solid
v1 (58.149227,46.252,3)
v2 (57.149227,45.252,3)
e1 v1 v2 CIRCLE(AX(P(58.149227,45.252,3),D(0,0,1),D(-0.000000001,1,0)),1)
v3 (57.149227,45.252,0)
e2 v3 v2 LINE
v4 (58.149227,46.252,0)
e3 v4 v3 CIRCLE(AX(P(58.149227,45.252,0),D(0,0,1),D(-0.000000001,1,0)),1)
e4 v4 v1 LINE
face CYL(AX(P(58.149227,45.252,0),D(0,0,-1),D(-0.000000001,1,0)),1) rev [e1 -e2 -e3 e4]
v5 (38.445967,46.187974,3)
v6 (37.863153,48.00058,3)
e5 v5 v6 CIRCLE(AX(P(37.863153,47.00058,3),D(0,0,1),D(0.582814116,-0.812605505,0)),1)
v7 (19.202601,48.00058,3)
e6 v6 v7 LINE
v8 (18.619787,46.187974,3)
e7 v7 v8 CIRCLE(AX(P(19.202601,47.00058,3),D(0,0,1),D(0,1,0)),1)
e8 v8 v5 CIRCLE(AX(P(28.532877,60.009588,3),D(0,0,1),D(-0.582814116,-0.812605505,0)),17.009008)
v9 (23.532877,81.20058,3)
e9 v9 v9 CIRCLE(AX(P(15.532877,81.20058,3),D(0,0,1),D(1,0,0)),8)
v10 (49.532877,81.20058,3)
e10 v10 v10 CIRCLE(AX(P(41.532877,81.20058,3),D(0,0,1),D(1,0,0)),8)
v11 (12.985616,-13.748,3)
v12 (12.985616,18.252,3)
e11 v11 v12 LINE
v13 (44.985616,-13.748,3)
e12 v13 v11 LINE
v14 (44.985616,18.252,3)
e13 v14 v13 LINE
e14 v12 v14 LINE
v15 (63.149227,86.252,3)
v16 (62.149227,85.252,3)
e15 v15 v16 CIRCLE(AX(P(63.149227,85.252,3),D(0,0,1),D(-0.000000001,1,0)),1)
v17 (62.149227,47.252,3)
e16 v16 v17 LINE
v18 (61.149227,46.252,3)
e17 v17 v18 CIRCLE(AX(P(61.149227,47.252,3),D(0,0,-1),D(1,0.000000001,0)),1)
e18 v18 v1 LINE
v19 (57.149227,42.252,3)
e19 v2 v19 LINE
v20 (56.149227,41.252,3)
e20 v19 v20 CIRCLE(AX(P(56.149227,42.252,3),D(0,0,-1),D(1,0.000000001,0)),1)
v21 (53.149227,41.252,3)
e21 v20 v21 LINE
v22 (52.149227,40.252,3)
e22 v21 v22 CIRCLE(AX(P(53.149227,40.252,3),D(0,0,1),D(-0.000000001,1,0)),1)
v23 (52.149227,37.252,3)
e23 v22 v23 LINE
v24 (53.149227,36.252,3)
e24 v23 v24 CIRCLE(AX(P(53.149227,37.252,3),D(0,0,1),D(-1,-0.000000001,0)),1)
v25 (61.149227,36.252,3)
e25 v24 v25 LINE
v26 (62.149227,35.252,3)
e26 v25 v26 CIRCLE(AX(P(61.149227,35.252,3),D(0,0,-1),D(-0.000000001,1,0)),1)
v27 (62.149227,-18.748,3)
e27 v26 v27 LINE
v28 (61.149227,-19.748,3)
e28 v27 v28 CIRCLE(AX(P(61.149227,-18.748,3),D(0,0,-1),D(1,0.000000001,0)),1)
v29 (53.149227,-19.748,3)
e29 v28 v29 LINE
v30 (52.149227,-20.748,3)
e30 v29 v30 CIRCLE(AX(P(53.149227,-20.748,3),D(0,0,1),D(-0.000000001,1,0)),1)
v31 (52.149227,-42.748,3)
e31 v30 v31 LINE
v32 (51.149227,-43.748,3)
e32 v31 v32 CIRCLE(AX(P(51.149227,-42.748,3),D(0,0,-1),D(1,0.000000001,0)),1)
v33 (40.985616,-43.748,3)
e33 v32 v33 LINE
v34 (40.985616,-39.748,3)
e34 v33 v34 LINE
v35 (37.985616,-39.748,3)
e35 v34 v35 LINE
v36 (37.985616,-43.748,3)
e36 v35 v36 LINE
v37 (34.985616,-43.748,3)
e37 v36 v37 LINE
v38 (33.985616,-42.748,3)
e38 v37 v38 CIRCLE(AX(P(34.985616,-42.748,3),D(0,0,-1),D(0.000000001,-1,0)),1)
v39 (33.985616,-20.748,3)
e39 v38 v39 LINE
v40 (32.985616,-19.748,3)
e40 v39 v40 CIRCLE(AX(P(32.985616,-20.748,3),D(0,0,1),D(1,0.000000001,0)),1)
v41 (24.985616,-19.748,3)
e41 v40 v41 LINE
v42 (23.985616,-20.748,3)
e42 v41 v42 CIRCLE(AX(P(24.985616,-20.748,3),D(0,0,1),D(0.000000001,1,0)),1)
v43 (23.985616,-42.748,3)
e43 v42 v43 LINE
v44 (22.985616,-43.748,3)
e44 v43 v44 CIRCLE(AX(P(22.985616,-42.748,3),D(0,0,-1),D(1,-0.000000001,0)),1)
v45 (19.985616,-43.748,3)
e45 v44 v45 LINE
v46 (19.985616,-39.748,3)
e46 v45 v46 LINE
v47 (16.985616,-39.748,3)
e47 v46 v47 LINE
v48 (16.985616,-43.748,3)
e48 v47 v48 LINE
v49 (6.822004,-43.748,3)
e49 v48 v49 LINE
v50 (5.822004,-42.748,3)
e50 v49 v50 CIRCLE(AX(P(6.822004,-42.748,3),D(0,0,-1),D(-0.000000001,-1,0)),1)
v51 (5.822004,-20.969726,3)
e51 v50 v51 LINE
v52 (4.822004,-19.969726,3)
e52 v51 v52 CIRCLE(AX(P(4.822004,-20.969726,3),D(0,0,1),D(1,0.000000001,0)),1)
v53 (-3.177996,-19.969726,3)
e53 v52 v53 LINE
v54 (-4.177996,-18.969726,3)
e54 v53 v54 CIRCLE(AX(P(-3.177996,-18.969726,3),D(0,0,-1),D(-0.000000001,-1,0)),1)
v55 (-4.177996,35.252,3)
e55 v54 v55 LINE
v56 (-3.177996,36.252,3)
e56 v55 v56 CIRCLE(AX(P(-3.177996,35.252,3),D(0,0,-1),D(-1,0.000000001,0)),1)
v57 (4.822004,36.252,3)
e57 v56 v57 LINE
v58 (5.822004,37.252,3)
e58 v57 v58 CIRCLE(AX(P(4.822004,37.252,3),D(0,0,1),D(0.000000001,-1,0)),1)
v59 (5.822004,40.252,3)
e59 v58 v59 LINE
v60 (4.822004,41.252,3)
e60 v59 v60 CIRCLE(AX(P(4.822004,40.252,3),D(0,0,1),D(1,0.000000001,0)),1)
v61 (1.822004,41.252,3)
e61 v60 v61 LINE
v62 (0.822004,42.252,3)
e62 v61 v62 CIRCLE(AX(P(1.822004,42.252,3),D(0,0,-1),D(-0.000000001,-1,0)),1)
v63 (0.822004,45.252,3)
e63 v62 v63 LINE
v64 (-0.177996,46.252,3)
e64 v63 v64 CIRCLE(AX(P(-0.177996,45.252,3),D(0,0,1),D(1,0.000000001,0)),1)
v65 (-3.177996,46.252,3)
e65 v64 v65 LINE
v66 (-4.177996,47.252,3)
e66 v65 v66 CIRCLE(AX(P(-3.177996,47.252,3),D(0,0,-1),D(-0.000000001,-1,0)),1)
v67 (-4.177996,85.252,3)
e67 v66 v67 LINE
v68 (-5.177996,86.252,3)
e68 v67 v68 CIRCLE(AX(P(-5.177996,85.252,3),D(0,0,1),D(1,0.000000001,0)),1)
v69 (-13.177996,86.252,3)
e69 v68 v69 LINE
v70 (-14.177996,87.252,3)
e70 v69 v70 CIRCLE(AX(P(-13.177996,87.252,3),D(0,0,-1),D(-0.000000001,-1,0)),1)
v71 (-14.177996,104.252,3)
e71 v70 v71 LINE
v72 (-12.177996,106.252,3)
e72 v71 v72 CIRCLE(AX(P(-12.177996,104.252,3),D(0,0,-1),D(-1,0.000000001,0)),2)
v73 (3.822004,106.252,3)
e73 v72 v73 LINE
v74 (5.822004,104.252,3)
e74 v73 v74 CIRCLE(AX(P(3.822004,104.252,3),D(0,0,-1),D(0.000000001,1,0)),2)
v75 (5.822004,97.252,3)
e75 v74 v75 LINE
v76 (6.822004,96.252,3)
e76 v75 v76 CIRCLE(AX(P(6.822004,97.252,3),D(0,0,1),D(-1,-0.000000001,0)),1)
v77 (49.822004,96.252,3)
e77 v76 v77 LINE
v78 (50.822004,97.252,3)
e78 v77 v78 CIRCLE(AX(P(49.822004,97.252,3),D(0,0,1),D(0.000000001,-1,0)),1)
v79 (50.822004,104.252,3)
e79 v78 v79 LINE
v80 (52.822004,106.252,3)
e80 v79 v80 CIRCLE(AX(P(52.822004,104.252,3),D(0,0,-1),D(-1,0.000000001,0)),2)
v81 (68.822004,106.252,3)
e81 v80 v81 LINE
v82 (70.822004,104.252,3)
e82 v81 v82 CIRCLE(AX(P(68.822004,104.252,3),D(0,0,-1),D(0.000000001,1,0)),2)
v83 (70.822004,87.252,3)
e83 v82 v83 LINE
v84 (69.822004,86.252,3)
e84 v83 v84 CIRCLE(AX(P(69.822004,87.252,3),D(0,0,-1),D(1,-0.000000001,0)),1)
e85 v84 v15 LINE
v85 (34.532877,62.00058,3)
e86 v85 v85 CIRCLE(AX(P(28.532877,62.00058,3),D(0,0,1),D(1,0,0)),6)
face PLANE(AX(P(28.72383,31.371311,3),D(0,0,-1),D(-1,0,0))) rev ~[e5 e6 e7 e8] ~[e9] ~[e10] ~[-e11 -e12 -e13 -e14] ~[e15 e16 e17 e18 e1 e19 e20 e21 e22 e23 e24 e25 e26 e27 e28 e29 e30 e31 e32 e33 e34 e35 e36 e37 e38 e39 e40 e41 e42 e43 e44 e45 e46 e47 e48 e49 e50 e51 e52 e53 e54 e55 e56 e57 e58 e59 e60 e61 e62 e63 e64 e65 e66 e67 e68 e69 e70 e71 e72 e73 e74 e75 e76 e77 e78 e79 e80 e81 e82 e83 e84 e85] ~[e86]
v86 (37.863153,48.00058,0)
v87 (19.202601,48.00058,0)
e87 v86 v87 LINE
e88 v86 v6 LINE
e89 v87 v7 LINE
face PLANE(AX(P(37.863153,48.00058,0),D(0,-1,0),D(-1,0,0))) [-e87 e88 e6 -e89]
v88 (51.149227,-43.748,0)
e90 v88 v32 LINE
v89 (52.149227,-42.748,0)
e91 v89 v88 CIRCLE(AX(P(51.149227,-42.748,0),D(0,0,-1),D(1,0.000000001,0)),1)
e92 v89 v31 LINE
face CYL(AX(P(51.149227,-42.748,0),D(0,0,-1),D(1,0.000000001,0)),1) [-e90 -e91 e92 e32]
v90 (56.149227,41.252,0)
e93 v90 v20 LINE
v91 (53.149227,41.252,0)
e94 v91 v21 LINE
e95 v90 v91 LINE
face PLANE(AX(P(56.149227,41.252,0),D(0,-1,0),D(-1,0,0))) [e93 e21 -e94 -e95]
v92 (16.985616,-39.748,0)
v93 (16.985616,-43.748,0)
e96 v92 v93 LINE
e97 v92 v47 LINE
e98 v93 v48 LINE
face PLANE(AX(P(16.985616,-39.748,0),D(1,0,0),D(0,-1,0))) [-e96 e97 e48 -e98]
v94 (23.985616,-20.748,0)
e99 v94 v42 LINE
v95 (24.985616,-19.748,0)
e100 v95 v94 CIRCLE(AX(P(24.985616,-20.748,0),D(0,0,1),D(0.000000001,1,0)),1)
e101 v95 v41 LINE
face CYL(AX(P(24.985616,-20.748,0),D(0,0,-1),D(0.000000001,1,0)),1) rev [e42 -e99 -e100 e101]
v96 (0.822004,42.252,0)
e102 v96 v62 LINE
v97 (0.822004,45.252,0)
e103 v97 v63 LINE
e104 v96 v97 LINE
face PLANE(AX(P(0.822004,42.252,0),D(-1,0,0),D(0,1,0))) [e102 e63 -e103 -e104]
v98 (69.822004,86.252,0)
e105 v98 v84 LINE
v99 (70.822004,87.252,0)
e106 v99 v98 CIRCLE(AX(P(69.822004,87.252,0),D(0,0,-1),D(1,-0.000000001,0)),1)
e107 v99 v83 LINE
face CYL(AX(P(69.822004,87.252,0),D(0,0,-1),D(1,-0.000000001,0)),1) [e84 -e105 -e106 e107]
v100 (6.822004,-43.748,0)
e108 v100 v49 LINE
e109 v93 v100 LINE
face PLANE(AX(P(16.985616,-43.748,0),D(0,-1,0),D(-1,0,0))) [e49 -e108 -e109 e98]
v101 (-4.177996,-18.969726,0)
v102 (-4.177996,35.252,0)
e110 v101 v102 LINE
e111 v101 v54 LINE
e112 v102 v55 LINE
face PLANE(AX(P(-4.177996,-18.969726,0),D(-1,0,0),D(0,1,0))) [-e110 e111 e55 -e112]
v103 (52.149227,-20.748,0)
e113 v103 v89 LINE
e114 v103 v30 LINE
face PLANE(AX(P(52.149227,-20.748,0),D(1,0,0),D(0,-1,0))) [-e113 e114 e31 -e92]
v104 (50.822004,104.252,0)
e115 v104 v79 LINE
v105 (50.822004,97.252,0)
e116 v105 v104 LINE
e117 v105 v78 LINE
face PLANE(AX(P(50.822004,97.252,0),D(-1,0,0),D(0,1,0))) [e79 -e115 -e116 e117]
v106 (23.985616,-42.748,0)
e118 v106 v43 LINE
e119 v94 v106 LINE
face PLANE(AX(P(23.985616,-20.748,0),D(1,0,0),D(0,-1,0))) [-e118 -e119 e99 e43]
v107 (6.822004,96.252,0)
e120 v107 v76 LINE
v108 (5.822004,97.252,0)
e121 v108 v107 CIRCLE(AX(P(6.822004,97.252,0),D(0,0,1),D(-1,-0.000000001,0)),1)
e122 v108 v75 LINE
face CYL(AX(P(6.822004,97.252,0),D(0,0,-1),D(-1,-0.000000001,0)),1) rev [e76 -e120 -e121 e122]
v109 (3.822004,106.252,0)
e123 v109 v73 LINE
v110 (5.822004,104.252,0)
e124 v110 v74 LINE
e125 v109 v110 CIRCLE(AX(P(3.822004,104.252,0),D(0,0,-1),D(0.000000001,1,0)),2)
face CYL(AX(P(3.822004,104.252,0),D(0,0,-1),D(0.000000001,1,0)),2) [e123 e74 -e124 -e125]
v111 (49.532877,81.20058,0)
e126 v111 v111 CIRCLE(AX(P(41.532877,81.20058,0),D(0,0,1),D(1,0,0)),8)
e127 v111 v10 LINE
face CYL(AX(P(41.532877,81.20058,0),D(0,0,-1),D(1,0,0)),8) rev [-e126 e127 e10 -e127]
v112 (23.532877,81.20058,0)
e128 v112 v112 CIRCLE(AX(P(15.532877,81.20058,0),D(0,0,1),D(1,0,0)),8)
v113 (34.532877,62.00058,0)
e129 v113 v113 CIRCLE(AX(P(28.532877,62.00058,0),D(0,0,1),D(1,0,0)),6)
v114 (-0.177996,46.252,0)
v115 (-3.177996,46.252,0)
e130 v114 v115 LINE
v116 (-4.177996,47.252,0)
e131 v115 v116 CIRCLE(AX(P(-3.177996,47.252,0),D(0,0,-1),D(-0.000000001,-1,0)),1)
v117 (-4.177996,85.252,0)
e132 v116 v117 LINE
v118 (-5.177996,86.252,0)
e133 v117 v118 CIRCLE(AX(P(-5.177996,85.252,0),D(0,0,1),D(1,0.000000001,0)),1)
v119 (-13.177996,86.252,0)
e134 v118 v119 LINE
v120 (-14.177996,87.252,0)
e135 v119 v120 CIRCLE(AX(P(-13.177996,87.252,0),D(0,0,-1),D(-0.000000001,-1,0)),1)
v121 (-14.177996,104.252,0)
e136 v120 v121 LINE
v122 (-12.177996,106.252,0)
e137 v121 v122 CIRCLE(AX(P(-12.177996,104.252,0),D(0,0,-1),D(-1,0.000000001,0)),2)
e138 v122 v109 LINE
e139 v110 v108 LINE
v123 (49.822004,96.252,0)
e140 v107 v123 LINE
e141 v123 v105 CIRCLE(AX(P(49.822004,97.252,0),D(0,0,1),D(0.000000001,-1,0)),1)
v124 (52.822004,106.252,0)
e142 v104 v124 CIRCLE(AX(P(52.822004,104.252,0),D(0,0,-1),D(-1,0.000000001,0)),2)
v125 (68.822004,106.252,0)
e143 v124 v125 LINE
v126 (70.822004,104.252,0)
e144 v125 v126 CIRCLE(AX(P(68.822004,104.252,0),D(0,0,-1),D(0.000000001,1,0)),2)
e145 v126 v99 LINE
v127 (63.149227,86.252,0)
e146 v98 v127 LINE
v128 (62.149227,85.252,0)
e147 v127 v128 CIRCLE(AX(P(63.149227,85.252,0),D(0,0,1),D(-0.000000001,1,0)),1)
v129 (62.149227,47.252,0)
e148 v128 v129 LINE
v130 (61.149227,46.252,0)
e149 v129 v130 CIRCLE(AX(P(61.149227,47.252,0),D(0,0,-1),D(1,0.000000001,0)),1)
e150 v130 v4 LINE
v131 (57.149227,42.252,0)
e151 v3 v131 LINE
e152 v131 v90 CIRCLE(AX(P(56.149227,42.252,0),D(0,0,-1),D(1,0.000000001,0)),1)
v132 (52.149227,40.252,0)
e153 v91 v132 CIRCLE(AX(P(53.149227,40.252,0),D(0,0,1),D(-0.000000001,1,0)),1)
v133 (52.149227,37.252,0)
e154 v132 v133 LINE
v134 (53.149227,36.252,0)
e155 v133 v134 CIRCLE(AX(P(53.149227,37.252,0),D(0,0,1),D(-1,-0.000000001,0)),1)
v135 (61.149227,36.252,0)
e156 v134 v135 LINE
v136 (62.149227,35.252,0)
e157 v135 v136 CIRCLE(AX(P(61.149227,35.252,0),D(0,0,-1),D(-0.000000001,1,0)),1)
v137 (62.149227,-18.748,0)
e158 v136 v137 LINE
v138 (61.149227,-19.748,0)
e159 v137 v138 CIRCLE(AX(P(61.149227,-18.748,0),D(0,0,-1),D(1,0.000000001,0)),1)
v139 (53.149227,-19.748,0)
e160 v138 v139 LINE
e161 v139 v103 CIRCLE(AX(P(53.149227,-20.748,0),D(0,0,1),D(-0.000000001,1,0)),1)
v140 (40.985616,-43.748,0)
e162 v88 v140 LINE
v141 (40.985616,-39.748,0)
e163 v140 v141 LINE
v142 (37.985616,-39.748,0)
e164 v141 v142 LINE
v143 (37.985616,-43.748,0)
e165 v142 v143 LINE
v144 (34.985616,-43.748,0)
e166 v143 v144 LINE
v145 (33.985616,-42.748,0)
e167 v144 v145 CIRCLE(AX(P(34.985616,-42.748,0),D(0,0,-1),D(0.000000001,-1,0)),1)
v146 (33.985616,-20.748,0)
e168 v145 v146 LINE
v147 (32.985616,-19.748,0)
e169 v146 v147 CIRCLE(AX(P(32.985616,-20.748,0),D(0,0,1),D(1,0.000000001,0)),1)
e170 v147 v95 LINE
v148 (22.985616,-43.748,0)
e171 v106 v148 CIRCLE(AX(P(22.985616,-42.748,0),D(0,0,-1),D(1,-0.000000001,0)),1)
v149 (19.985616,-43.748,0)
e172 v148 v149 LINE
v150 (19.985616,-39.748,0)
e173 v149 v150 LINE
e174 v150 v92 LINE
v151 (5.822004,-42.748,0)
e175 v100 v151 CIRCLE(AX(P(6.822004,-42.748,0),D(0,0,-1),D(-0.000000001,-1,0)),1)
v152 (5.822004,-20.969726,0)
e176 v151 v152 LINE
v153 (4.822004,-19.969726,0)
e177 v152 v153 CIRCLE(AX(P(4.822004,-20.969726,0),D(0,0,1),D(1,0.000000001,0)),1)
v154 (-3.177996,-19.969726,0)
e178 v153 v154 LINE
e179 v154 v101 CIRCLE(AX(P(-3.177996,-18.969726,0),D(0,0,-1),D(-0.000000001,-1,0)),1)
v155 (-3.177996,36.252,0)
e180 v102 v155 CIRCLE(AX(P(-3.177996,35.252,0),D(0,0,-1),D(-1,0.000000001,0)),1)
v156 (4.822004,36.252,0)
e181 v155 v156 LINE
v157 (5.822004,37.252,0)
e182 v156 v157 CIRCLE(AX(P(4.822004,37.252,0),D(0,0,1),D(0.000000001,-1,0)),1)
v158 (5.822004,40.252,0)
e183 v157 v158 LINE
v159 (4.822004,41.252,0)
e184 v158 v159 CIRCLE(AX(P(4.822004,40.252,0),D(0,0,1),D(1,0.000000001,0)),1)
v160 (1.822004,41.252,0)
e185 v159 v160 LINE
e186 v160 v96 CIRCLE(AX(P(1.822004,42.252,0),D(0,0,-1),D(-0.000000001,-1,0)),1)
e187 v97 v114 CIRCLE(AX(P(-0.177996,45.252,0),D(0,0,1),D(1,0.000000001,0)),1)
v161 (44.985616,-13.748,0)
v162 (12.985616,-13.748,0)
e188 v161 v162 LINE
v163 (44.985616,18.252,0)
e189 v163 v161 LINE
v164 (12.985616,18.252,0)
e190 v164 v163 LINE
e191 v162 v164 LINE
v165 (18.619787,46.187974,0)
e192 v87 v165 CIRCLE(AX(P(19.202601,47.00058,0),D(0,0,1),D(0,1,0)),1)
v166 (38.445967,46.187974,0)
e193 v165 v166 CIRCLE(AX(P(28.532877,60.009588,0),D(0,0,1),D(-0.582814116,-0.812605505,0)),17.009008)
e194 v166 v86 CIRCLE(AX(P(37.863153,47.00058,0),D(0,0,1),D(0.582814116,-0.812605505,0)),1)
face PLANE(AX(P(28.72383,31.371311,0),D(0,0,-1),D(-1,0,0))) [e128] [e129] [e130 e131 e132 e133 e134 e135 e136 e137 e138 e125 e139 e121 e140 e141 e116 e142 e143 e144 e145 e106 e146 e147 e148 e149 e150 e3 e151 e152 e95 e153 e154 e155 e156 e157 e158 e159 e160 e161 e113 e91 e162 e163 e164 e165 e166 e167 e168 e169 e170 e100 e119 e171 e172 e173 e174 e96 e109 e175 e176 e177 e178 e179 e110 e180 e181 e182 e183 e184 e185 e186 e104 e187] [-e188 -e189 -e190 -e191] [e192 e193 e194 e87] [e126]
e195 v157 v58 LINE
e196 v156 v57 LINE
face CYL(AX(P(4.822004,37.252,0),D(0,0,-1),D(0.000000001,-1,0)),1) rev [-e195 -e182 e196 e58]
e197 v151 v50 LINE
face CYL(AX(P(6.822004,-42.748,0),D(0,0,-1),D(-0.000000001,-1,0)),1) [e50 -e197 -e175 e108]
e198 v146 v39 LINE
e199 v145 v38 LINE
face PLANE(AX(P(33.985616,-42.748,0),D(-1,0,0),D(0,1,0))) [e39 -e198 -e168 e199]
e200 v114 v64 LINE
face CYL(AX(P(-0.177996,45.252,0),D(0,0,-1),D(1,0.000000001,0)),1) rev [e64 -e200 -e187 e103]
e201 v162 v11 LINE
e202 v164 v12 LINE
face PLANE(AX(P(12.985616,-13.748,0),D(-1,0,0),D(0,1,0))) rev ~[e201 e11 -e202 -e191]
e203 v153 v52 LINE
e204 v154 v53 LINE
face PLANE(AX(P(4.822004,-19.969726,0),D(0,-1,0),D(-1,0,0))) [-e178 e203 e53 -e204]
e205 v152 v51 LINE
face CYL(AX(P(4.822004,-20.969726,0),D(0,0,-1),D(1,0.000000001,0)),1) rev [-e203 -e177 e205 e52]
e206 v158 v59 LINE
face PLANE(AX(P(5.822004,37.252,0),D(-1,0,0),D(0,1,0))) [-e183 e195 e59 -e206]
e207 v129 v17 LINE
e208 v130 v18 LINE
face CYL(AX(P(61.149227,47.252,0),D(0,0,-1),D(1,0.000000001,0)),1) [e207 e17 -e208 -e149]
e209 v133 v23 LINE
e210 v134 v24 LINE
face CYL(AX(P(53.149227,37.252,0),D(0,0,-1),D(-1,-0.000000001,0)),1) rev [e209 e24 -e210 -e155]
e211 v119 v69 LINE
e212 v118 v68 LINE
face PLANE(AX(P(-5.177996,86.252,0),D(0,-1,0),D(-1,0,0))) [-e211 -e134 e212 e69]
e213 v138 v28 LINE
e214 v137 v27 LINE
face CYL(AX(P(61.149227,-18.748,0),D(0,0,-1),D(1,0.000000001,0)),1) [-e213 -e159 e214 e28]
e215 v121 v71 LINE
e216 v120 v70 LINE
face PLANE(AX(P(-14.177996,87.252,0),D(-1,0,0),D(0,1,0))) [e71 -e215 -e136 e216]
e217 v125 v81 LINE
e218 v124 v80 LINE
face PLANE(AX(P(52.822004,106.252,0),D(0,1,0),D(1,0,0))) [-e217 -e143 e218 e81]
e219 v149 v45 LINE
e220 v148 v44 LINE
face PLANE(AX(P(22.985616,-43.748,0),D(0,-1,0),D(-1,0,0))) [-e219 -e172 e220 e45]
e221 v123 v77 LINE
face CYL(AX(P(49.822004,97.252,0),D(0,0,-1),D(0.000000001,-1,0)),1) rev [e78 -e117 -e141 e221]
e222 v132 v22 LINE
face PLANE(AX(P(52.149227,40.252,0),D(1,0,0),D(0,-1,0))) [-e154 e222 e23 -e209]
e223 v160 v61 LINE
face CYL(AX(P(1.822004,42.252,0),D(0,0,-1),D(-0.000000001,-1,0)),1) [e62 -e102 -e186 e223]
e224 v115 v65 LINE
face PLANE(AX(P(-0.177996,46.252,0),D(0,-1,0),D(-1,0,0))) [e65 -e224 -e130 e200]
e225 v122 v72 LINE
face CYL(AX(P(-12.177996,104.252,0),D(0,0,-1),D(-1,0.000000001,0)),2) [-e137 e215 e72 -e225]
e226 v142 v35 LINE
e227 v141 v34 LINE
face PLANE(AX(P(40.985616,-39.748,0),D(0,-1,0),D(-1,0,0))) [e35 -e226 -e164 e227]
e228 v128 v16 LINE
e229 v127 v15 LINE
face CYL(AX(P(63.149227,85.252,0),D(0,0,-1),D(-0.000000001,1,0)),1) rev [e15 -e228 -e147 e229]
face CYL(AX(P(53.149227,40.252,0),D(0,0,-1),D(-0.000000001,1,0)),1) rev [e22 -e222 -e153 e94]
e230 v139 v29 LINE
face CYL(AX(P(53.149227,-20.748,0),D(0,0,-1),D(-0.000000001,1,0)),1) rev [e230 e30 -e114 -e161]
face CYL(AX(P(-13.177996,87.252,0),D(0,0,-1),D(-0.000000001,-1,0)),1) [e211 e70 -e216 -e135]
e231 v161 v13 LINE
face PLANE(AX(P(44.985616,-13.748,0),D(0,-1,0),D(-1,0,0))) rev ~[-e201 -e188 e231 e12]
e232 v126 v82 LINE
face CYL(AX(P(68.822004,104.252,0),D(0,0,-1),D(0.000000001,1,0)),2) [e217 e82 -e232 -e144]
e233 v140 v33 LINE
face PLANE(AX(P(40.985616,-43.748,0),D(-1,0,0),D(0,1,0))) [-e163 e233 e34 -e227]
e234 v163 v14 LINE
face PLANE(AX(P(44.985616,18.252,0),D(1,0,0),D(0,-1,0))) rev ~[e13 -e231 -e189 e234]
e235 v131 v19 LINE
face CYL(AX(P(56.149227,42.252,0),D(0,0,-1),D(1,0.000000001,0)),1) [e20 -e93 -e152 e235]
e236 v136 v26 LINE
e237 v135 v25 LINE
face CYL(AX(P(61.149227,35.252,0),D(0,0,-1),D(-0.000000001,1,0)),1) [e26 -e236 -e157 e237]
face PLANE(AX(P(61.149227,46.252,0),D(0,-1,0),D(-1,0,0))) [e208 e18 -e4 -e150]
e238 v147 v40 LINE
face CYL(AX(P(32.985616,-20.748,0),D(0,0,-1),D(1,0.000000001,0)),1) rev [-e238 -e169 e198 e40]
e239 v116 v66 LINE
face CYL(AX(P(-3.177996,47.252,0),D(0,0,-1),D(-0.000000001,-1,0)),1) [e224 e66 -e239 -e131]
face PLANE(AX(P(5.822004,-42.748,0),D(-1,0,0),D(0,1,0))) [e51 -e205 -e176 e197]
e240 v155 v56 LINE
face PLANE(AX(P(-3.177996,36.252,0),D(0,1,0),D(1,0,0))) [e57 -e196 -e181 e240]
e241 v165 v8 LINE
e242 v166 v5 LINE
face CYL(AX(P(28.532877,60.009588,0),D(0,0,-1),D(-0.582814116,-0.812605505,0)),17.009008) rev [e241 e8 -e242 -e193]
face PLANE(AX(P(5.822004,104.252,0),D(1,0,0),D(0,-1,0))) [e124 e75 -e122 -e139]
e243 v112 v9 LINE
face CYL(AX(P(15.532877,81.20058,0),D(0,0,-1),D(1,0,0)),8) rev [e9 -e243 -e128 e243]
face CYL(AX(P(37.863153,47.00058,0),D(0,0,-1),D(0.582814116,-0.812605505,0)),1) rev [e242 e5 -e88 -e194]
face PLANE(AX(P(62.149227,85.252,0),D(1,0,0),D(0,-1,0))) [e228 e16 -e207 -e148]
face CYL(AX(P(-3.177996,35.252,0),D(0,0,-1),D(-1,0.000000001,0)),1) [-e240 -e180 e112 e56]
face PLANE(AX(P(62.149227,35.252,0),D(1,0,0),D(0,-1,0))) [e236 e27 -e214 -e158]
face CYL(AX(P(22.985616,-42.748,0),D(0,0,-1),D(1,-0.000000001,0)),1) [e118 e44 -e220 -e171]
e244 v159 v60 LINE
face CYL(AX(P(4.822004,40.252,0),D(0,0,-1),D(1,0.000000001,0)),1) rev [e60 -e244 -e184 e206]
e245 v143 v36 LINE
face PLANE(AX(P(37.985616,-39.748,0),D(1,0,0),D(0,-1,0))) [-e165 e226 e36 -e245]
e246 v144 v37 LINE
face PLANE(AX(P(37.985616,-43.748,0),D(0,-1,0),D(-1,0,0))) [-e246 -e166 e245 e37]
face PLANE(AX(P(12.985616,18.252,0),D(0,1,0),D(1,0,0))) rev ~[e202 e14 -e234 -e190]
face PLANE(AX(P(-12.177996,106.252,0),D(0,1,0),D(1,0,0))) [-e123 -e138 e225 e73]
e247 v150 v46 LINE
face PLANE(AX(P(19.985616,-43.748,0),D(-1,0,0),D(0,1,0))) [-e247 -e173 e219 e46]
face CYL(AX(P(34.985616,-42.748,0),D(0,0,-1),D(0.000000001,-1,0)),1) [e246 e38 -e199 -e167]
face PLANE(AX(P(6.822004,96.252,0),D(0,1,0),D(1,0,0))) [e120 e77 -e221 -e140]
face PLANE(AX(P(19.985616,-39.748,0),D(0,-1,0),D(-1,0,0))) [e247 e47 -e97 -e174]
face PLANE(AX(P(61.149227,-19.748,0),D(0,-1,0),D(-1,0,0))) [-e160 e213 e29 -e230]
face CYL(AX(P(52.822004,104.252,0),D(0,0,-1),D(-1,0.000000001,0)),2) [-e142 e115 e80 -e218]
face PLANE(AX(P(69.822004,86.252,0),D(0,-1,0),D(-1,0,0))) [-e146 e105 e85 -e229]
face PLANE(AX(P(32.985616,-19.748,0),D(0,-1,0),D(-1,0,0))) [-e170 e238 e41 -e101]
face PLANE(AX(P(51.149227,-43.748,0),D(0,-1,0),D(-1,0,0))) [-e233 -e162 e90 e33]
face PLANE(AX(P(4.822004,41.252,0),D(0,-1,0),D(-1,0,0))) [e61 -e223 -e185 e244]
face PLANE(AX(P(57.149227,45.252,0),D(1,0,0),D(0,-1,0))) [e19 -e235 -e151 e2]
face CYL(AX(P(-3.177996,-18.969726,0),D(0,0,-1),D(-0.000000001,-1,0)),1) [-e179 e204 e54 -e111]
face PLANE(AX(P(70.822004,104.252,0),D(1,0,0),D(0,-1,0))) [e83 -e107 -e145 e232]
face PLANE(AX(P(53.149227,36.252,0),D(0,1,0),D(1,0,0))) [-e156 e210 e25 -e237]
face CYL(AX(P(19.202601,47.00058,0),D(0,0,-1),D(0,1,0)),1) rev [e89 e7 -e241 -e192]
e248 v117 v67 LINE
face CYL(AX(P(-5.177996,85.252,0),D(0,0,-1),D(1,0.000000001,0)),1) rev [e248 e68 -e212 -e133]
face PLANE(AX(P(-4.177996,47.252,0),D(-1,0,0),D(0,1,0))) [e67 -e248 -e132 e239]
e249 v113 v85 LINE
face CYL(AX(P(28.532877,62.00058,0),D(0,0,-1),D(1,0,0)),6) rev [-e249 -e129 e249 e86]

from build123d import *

# Parameters (mm, degrees)
MODEL_R                 = 6
MODEL_R_2               = 8
SALIENTE_EXTRUIR1_DEPTH = 3


with BuildPart() as part:
    # Model → Saliente-Extruir1 (new body)
    with BuildSketch(Plane.XY):
        with BuildLine():
            Line((52.149227215, 40.252), (52.149227215, 37.252))
            ThreePointArc((52.149227215, 37.252), (52.442120434, 36.544893219), (53.149227215, 36.252))
            Line((53.149227215, 36.252), (61.149227215, 36.252))
            ThreePointArc((61.149227215, 36.252), (61.856333997, 35.959106781), (62.149227215, 35.252))
            Line((62.149227215, 35.252), (62.149227215, 12.636622367))
            Line((62.149227215, 12.636622367), (62.149227215, -18.748))
            ThreePointArc((62.149227215, -18.748), (61.856333997, -19.455106781), (61.149227215, -19.748))
            Line((61.149227215, -19.748), (53.149227215, -19.748))
            ThreePointArc((53.149227215, -19.748), (52.442120434, -20.040893219), (52.149227215, -20.748))
            Line((52.149227215, -20.748), (52.149227215, -42.748))
            ThreePointArc((52.149227215, -42.748), (51.856333997, -43.455106781), (51.149227215, -43.748))
            Line((51.149227215, -43.748), (40.985615848, -43.748))
            Line((40.985615848, -43.748), (40.985615848, -39.748))
            Line((40.985615848, -39.748), (37.985615848, -39.748))
            Line((37.985615848, -39.748), (37.985615848, -43.748))
            Line((37.985615848, -43.748), (34.985615848, -43.748))
            ThreePointArc((34.985615848, -43.748), (34.278509066, -43.455106781), (33.985615848, -42.748))
            Line((33.985615848, -42.748), (33.985615848, -20.748))
            ThreePointArc((33.985615848, -20.748), (33.692722629, -20.040893219), (32.985615848, -19.748))
            Line((32.985615848, -19.748), (24.985615848, -19.748))
            ThreePointArc((24.985615848, -19.748), (24.278509066, -20.040893219), (23.985615848, -20.748))
            Line((23.985615848, -20.748), (23.985615848, -42.748))
            ThreePointArc((23.985615848, -42.748), (23.692722629, -43.455106781), (22.985615848, -43.748))
            Line((22.985615848, -43.748), (19.985615848, -43.748))
            Line((19.985615848, -43.748), (19.985615848, -39.748))
            Line((19.985615848, -39.748), (16.985615848, -39.748))
            Line((16.985615848, -39.748), (16.985615848, -43.748))
            Line((16.985615848, -43.748), (6.82200448, -43.748))
            ThreePointArc((6.82200448, -43.748), (6.114897699, -43.455106781), (5.82200448, -42.748))
            Line((5.82200448, -42.748), (5.82200448, -20.969725915))
            ThreePointArc((5.82200448, -20.969725915), (5.529111261, -20.262619134), (4.82200448, -19.969725915))
            Line((4.82200448, -19.969725915), (-3.17799552, -19.969725915))
            ThreePointArc((-3.17799552, -19.969725915), (-3.885102301, -19.676832696), (-4.17799552, -18.969725915))
            Line((-4.17799552, -18.969725915), (-4.17799552, 14.641137042))
            Line((-4.17799552, 14.641137042), (-4.17799552, 35.252))
            ThreePointArc((-4.17799552, 35.252), (-3.885102301, 35.959106781), (-3.17799552, 36.252))
            Line((-3.17799552, 36.252), (4.82200448, 36.252))
            ThreePointArc((4.82200448, 36.252), (5.529111261, 36.544893219), (5.82200448, 37.252))
            Line((5.82200448, 37.252), (5.82200448, 40.252))
            ThreePointArc((5.82200448, 40.252), (5.529111261, 40.959106781), (4.82200448, 41.252))
            Line((4.82200448, 41.252), (1.82200448, 41.252))
            ThreePointArc((1.82200448, 41.252), (1.114897699, 41.544893219), (0.82200448, 42.252))
            Line((0.82200448, 42.252), (0.82200448, 45.252))
            ThreePointArc((0.82200448, 45.252), (0.529111261, 45.959106781), (-0.17799552, 46.252))
            Line((-0.17799552, 46.252), (-3.17799552, 46.252))
            ThreePointArc((-3.17799552, 46.252), (-3.885102301, 46.544893219), (-4.17799552, 47.252))
            Line((-4.17799552, 47.252), (-4.17799552, 85.252))
            ThreePointArc((-4.17799552, 85.252), (-4.470888739, 85.959106781), (-5.17799552, 86.252))
            Line((-5.17799552, 86.252), (-8.67799552, 86.252))
            Line((-8.67799552, 86.252), (-13.17799552, 86.252))
            ThreePointArc((-13.17799552, 86.252), (-13.885102301, 86.544893219), (-14.17799552, 87.252))
            Line((-14.17799552, 87.252), (-14.17799552, 104.252))
            ThreePointArc((-14.17799552, 104.252), (-13.592209082, 105.666213562), (-12.17799552, 106.252))
            Line((-12.17799552, 106.252), (3.82200448, 106.252))
            ThreePointArc((3.82200448, 106.252), (5.236218042, 105.666213562), (5.82200448, 104.252))
            Line((5.82200448, 104.252), (5.82200448, 97.252))
            ThreePointArc((5.82200448, 97.252), (6.114897699, 96.544893219), (6.82200448, 96.252))
            Line((6.82200448, 96.252), (49.82200448, 96.252))
            ThreePointArc((49.82200448, 96.252), (50.529111261, 96.544893219), (50.82200448, 97.252))
            Line((50.82200448, 97.252), (50.82200448, 104.252))
            ThreePointArc((50.82200448, 104.252), (51.407790918, 105.666213562), (52.82200448, 106.252))
            Line((52.82200448, 106.252), (68.82200448, 106.252))
            ThreePointArc((68.82200448, 106.252), (70.236218042, 105.666213562), (70.82200448, 104.252))
            Line((70.82200448, 104.252), (70.82200448, 87.252))
            ThreePointArc((70.82200448, 87.252), (70.529111261, 86.544893219), (69.82200448, 86.252))
            Line((69.82200448, 86.252), (63.149227215, 86.252))
            ThreePointArc((63.149227215, 86.252), (62.442120434, 85.959106781), (62.149227215, 85.252))
            Line((62.149227215, 85.252), (62.149227215, 66.752))
            Line((62.149227215, 66.752), (62.149227215, 47.252))
            ThreePointArc((62.149227215, 47.252), (61.856333997, 46.544893219), (61.149227215, 46.252))
            Line((61.149227215, 46.252), (58.149227215, 46.252))
            ThreePointArc((58.149227215, 46.252), (57.442120434, 45.959106781), (57.149227215, 45.252))
            Line((57.149227215, 45.252), (57.149227215, 42.252))
            ThreePointArc((57.149227215, 42.252), (56.856333997, 41.544893219), (56.149227215, 41.252))
            Line((56.149227215, 41.252), (53.149227215, 41.252))
            ThreePointArc((53.149227215, 41.252), (52.442120434, 40.959106781), (52.149227215, 40.252))
        make_face()
        with Locations((28.532877275, 62.00057999)):
            Circle(MODEL_R, mode=Mode.SUBTRACT)
        with Locations((41.532877275, 81.20057999)):
            Circle(MODEL_R_2, mode=Mode.SUBTRACT)
        with Locations((15.532877275, 81.20057999)):
            Circle(MODEL_R_2, mode=Mode.SUBTRACT)
        Polygon((12.985615848, 18.252), (29.485615848, 18.252), (44.985615848, 18.252), (44.985615848, -13.748), (12.985615848, -13.748), align=None, mode=Mode.SUBTRACT)
        with BuildLine():
            Line((37.863153208, 48.00057999), (19.202601343, 48.00057999))
            ThreePointArc((19.202601343, 48.00057999), (18.250601998, 47.306680051), (18.619787227, 46.187974485))
            ThreePointArc((18.619787227, 46.187974485), (28.532877275, 43.00057999), (38.445967323, 46.187974485))
            ThreePointArc((38.445967323, 46.187974485), (38.815152552, 47.306680051), (37.863153208, 48.00057999))
        make_face(mode=Mode.SUBTRACT)
    extrude(amount=SALIENTE_EXTRUIR1_DEPTH)


solid = part.part
